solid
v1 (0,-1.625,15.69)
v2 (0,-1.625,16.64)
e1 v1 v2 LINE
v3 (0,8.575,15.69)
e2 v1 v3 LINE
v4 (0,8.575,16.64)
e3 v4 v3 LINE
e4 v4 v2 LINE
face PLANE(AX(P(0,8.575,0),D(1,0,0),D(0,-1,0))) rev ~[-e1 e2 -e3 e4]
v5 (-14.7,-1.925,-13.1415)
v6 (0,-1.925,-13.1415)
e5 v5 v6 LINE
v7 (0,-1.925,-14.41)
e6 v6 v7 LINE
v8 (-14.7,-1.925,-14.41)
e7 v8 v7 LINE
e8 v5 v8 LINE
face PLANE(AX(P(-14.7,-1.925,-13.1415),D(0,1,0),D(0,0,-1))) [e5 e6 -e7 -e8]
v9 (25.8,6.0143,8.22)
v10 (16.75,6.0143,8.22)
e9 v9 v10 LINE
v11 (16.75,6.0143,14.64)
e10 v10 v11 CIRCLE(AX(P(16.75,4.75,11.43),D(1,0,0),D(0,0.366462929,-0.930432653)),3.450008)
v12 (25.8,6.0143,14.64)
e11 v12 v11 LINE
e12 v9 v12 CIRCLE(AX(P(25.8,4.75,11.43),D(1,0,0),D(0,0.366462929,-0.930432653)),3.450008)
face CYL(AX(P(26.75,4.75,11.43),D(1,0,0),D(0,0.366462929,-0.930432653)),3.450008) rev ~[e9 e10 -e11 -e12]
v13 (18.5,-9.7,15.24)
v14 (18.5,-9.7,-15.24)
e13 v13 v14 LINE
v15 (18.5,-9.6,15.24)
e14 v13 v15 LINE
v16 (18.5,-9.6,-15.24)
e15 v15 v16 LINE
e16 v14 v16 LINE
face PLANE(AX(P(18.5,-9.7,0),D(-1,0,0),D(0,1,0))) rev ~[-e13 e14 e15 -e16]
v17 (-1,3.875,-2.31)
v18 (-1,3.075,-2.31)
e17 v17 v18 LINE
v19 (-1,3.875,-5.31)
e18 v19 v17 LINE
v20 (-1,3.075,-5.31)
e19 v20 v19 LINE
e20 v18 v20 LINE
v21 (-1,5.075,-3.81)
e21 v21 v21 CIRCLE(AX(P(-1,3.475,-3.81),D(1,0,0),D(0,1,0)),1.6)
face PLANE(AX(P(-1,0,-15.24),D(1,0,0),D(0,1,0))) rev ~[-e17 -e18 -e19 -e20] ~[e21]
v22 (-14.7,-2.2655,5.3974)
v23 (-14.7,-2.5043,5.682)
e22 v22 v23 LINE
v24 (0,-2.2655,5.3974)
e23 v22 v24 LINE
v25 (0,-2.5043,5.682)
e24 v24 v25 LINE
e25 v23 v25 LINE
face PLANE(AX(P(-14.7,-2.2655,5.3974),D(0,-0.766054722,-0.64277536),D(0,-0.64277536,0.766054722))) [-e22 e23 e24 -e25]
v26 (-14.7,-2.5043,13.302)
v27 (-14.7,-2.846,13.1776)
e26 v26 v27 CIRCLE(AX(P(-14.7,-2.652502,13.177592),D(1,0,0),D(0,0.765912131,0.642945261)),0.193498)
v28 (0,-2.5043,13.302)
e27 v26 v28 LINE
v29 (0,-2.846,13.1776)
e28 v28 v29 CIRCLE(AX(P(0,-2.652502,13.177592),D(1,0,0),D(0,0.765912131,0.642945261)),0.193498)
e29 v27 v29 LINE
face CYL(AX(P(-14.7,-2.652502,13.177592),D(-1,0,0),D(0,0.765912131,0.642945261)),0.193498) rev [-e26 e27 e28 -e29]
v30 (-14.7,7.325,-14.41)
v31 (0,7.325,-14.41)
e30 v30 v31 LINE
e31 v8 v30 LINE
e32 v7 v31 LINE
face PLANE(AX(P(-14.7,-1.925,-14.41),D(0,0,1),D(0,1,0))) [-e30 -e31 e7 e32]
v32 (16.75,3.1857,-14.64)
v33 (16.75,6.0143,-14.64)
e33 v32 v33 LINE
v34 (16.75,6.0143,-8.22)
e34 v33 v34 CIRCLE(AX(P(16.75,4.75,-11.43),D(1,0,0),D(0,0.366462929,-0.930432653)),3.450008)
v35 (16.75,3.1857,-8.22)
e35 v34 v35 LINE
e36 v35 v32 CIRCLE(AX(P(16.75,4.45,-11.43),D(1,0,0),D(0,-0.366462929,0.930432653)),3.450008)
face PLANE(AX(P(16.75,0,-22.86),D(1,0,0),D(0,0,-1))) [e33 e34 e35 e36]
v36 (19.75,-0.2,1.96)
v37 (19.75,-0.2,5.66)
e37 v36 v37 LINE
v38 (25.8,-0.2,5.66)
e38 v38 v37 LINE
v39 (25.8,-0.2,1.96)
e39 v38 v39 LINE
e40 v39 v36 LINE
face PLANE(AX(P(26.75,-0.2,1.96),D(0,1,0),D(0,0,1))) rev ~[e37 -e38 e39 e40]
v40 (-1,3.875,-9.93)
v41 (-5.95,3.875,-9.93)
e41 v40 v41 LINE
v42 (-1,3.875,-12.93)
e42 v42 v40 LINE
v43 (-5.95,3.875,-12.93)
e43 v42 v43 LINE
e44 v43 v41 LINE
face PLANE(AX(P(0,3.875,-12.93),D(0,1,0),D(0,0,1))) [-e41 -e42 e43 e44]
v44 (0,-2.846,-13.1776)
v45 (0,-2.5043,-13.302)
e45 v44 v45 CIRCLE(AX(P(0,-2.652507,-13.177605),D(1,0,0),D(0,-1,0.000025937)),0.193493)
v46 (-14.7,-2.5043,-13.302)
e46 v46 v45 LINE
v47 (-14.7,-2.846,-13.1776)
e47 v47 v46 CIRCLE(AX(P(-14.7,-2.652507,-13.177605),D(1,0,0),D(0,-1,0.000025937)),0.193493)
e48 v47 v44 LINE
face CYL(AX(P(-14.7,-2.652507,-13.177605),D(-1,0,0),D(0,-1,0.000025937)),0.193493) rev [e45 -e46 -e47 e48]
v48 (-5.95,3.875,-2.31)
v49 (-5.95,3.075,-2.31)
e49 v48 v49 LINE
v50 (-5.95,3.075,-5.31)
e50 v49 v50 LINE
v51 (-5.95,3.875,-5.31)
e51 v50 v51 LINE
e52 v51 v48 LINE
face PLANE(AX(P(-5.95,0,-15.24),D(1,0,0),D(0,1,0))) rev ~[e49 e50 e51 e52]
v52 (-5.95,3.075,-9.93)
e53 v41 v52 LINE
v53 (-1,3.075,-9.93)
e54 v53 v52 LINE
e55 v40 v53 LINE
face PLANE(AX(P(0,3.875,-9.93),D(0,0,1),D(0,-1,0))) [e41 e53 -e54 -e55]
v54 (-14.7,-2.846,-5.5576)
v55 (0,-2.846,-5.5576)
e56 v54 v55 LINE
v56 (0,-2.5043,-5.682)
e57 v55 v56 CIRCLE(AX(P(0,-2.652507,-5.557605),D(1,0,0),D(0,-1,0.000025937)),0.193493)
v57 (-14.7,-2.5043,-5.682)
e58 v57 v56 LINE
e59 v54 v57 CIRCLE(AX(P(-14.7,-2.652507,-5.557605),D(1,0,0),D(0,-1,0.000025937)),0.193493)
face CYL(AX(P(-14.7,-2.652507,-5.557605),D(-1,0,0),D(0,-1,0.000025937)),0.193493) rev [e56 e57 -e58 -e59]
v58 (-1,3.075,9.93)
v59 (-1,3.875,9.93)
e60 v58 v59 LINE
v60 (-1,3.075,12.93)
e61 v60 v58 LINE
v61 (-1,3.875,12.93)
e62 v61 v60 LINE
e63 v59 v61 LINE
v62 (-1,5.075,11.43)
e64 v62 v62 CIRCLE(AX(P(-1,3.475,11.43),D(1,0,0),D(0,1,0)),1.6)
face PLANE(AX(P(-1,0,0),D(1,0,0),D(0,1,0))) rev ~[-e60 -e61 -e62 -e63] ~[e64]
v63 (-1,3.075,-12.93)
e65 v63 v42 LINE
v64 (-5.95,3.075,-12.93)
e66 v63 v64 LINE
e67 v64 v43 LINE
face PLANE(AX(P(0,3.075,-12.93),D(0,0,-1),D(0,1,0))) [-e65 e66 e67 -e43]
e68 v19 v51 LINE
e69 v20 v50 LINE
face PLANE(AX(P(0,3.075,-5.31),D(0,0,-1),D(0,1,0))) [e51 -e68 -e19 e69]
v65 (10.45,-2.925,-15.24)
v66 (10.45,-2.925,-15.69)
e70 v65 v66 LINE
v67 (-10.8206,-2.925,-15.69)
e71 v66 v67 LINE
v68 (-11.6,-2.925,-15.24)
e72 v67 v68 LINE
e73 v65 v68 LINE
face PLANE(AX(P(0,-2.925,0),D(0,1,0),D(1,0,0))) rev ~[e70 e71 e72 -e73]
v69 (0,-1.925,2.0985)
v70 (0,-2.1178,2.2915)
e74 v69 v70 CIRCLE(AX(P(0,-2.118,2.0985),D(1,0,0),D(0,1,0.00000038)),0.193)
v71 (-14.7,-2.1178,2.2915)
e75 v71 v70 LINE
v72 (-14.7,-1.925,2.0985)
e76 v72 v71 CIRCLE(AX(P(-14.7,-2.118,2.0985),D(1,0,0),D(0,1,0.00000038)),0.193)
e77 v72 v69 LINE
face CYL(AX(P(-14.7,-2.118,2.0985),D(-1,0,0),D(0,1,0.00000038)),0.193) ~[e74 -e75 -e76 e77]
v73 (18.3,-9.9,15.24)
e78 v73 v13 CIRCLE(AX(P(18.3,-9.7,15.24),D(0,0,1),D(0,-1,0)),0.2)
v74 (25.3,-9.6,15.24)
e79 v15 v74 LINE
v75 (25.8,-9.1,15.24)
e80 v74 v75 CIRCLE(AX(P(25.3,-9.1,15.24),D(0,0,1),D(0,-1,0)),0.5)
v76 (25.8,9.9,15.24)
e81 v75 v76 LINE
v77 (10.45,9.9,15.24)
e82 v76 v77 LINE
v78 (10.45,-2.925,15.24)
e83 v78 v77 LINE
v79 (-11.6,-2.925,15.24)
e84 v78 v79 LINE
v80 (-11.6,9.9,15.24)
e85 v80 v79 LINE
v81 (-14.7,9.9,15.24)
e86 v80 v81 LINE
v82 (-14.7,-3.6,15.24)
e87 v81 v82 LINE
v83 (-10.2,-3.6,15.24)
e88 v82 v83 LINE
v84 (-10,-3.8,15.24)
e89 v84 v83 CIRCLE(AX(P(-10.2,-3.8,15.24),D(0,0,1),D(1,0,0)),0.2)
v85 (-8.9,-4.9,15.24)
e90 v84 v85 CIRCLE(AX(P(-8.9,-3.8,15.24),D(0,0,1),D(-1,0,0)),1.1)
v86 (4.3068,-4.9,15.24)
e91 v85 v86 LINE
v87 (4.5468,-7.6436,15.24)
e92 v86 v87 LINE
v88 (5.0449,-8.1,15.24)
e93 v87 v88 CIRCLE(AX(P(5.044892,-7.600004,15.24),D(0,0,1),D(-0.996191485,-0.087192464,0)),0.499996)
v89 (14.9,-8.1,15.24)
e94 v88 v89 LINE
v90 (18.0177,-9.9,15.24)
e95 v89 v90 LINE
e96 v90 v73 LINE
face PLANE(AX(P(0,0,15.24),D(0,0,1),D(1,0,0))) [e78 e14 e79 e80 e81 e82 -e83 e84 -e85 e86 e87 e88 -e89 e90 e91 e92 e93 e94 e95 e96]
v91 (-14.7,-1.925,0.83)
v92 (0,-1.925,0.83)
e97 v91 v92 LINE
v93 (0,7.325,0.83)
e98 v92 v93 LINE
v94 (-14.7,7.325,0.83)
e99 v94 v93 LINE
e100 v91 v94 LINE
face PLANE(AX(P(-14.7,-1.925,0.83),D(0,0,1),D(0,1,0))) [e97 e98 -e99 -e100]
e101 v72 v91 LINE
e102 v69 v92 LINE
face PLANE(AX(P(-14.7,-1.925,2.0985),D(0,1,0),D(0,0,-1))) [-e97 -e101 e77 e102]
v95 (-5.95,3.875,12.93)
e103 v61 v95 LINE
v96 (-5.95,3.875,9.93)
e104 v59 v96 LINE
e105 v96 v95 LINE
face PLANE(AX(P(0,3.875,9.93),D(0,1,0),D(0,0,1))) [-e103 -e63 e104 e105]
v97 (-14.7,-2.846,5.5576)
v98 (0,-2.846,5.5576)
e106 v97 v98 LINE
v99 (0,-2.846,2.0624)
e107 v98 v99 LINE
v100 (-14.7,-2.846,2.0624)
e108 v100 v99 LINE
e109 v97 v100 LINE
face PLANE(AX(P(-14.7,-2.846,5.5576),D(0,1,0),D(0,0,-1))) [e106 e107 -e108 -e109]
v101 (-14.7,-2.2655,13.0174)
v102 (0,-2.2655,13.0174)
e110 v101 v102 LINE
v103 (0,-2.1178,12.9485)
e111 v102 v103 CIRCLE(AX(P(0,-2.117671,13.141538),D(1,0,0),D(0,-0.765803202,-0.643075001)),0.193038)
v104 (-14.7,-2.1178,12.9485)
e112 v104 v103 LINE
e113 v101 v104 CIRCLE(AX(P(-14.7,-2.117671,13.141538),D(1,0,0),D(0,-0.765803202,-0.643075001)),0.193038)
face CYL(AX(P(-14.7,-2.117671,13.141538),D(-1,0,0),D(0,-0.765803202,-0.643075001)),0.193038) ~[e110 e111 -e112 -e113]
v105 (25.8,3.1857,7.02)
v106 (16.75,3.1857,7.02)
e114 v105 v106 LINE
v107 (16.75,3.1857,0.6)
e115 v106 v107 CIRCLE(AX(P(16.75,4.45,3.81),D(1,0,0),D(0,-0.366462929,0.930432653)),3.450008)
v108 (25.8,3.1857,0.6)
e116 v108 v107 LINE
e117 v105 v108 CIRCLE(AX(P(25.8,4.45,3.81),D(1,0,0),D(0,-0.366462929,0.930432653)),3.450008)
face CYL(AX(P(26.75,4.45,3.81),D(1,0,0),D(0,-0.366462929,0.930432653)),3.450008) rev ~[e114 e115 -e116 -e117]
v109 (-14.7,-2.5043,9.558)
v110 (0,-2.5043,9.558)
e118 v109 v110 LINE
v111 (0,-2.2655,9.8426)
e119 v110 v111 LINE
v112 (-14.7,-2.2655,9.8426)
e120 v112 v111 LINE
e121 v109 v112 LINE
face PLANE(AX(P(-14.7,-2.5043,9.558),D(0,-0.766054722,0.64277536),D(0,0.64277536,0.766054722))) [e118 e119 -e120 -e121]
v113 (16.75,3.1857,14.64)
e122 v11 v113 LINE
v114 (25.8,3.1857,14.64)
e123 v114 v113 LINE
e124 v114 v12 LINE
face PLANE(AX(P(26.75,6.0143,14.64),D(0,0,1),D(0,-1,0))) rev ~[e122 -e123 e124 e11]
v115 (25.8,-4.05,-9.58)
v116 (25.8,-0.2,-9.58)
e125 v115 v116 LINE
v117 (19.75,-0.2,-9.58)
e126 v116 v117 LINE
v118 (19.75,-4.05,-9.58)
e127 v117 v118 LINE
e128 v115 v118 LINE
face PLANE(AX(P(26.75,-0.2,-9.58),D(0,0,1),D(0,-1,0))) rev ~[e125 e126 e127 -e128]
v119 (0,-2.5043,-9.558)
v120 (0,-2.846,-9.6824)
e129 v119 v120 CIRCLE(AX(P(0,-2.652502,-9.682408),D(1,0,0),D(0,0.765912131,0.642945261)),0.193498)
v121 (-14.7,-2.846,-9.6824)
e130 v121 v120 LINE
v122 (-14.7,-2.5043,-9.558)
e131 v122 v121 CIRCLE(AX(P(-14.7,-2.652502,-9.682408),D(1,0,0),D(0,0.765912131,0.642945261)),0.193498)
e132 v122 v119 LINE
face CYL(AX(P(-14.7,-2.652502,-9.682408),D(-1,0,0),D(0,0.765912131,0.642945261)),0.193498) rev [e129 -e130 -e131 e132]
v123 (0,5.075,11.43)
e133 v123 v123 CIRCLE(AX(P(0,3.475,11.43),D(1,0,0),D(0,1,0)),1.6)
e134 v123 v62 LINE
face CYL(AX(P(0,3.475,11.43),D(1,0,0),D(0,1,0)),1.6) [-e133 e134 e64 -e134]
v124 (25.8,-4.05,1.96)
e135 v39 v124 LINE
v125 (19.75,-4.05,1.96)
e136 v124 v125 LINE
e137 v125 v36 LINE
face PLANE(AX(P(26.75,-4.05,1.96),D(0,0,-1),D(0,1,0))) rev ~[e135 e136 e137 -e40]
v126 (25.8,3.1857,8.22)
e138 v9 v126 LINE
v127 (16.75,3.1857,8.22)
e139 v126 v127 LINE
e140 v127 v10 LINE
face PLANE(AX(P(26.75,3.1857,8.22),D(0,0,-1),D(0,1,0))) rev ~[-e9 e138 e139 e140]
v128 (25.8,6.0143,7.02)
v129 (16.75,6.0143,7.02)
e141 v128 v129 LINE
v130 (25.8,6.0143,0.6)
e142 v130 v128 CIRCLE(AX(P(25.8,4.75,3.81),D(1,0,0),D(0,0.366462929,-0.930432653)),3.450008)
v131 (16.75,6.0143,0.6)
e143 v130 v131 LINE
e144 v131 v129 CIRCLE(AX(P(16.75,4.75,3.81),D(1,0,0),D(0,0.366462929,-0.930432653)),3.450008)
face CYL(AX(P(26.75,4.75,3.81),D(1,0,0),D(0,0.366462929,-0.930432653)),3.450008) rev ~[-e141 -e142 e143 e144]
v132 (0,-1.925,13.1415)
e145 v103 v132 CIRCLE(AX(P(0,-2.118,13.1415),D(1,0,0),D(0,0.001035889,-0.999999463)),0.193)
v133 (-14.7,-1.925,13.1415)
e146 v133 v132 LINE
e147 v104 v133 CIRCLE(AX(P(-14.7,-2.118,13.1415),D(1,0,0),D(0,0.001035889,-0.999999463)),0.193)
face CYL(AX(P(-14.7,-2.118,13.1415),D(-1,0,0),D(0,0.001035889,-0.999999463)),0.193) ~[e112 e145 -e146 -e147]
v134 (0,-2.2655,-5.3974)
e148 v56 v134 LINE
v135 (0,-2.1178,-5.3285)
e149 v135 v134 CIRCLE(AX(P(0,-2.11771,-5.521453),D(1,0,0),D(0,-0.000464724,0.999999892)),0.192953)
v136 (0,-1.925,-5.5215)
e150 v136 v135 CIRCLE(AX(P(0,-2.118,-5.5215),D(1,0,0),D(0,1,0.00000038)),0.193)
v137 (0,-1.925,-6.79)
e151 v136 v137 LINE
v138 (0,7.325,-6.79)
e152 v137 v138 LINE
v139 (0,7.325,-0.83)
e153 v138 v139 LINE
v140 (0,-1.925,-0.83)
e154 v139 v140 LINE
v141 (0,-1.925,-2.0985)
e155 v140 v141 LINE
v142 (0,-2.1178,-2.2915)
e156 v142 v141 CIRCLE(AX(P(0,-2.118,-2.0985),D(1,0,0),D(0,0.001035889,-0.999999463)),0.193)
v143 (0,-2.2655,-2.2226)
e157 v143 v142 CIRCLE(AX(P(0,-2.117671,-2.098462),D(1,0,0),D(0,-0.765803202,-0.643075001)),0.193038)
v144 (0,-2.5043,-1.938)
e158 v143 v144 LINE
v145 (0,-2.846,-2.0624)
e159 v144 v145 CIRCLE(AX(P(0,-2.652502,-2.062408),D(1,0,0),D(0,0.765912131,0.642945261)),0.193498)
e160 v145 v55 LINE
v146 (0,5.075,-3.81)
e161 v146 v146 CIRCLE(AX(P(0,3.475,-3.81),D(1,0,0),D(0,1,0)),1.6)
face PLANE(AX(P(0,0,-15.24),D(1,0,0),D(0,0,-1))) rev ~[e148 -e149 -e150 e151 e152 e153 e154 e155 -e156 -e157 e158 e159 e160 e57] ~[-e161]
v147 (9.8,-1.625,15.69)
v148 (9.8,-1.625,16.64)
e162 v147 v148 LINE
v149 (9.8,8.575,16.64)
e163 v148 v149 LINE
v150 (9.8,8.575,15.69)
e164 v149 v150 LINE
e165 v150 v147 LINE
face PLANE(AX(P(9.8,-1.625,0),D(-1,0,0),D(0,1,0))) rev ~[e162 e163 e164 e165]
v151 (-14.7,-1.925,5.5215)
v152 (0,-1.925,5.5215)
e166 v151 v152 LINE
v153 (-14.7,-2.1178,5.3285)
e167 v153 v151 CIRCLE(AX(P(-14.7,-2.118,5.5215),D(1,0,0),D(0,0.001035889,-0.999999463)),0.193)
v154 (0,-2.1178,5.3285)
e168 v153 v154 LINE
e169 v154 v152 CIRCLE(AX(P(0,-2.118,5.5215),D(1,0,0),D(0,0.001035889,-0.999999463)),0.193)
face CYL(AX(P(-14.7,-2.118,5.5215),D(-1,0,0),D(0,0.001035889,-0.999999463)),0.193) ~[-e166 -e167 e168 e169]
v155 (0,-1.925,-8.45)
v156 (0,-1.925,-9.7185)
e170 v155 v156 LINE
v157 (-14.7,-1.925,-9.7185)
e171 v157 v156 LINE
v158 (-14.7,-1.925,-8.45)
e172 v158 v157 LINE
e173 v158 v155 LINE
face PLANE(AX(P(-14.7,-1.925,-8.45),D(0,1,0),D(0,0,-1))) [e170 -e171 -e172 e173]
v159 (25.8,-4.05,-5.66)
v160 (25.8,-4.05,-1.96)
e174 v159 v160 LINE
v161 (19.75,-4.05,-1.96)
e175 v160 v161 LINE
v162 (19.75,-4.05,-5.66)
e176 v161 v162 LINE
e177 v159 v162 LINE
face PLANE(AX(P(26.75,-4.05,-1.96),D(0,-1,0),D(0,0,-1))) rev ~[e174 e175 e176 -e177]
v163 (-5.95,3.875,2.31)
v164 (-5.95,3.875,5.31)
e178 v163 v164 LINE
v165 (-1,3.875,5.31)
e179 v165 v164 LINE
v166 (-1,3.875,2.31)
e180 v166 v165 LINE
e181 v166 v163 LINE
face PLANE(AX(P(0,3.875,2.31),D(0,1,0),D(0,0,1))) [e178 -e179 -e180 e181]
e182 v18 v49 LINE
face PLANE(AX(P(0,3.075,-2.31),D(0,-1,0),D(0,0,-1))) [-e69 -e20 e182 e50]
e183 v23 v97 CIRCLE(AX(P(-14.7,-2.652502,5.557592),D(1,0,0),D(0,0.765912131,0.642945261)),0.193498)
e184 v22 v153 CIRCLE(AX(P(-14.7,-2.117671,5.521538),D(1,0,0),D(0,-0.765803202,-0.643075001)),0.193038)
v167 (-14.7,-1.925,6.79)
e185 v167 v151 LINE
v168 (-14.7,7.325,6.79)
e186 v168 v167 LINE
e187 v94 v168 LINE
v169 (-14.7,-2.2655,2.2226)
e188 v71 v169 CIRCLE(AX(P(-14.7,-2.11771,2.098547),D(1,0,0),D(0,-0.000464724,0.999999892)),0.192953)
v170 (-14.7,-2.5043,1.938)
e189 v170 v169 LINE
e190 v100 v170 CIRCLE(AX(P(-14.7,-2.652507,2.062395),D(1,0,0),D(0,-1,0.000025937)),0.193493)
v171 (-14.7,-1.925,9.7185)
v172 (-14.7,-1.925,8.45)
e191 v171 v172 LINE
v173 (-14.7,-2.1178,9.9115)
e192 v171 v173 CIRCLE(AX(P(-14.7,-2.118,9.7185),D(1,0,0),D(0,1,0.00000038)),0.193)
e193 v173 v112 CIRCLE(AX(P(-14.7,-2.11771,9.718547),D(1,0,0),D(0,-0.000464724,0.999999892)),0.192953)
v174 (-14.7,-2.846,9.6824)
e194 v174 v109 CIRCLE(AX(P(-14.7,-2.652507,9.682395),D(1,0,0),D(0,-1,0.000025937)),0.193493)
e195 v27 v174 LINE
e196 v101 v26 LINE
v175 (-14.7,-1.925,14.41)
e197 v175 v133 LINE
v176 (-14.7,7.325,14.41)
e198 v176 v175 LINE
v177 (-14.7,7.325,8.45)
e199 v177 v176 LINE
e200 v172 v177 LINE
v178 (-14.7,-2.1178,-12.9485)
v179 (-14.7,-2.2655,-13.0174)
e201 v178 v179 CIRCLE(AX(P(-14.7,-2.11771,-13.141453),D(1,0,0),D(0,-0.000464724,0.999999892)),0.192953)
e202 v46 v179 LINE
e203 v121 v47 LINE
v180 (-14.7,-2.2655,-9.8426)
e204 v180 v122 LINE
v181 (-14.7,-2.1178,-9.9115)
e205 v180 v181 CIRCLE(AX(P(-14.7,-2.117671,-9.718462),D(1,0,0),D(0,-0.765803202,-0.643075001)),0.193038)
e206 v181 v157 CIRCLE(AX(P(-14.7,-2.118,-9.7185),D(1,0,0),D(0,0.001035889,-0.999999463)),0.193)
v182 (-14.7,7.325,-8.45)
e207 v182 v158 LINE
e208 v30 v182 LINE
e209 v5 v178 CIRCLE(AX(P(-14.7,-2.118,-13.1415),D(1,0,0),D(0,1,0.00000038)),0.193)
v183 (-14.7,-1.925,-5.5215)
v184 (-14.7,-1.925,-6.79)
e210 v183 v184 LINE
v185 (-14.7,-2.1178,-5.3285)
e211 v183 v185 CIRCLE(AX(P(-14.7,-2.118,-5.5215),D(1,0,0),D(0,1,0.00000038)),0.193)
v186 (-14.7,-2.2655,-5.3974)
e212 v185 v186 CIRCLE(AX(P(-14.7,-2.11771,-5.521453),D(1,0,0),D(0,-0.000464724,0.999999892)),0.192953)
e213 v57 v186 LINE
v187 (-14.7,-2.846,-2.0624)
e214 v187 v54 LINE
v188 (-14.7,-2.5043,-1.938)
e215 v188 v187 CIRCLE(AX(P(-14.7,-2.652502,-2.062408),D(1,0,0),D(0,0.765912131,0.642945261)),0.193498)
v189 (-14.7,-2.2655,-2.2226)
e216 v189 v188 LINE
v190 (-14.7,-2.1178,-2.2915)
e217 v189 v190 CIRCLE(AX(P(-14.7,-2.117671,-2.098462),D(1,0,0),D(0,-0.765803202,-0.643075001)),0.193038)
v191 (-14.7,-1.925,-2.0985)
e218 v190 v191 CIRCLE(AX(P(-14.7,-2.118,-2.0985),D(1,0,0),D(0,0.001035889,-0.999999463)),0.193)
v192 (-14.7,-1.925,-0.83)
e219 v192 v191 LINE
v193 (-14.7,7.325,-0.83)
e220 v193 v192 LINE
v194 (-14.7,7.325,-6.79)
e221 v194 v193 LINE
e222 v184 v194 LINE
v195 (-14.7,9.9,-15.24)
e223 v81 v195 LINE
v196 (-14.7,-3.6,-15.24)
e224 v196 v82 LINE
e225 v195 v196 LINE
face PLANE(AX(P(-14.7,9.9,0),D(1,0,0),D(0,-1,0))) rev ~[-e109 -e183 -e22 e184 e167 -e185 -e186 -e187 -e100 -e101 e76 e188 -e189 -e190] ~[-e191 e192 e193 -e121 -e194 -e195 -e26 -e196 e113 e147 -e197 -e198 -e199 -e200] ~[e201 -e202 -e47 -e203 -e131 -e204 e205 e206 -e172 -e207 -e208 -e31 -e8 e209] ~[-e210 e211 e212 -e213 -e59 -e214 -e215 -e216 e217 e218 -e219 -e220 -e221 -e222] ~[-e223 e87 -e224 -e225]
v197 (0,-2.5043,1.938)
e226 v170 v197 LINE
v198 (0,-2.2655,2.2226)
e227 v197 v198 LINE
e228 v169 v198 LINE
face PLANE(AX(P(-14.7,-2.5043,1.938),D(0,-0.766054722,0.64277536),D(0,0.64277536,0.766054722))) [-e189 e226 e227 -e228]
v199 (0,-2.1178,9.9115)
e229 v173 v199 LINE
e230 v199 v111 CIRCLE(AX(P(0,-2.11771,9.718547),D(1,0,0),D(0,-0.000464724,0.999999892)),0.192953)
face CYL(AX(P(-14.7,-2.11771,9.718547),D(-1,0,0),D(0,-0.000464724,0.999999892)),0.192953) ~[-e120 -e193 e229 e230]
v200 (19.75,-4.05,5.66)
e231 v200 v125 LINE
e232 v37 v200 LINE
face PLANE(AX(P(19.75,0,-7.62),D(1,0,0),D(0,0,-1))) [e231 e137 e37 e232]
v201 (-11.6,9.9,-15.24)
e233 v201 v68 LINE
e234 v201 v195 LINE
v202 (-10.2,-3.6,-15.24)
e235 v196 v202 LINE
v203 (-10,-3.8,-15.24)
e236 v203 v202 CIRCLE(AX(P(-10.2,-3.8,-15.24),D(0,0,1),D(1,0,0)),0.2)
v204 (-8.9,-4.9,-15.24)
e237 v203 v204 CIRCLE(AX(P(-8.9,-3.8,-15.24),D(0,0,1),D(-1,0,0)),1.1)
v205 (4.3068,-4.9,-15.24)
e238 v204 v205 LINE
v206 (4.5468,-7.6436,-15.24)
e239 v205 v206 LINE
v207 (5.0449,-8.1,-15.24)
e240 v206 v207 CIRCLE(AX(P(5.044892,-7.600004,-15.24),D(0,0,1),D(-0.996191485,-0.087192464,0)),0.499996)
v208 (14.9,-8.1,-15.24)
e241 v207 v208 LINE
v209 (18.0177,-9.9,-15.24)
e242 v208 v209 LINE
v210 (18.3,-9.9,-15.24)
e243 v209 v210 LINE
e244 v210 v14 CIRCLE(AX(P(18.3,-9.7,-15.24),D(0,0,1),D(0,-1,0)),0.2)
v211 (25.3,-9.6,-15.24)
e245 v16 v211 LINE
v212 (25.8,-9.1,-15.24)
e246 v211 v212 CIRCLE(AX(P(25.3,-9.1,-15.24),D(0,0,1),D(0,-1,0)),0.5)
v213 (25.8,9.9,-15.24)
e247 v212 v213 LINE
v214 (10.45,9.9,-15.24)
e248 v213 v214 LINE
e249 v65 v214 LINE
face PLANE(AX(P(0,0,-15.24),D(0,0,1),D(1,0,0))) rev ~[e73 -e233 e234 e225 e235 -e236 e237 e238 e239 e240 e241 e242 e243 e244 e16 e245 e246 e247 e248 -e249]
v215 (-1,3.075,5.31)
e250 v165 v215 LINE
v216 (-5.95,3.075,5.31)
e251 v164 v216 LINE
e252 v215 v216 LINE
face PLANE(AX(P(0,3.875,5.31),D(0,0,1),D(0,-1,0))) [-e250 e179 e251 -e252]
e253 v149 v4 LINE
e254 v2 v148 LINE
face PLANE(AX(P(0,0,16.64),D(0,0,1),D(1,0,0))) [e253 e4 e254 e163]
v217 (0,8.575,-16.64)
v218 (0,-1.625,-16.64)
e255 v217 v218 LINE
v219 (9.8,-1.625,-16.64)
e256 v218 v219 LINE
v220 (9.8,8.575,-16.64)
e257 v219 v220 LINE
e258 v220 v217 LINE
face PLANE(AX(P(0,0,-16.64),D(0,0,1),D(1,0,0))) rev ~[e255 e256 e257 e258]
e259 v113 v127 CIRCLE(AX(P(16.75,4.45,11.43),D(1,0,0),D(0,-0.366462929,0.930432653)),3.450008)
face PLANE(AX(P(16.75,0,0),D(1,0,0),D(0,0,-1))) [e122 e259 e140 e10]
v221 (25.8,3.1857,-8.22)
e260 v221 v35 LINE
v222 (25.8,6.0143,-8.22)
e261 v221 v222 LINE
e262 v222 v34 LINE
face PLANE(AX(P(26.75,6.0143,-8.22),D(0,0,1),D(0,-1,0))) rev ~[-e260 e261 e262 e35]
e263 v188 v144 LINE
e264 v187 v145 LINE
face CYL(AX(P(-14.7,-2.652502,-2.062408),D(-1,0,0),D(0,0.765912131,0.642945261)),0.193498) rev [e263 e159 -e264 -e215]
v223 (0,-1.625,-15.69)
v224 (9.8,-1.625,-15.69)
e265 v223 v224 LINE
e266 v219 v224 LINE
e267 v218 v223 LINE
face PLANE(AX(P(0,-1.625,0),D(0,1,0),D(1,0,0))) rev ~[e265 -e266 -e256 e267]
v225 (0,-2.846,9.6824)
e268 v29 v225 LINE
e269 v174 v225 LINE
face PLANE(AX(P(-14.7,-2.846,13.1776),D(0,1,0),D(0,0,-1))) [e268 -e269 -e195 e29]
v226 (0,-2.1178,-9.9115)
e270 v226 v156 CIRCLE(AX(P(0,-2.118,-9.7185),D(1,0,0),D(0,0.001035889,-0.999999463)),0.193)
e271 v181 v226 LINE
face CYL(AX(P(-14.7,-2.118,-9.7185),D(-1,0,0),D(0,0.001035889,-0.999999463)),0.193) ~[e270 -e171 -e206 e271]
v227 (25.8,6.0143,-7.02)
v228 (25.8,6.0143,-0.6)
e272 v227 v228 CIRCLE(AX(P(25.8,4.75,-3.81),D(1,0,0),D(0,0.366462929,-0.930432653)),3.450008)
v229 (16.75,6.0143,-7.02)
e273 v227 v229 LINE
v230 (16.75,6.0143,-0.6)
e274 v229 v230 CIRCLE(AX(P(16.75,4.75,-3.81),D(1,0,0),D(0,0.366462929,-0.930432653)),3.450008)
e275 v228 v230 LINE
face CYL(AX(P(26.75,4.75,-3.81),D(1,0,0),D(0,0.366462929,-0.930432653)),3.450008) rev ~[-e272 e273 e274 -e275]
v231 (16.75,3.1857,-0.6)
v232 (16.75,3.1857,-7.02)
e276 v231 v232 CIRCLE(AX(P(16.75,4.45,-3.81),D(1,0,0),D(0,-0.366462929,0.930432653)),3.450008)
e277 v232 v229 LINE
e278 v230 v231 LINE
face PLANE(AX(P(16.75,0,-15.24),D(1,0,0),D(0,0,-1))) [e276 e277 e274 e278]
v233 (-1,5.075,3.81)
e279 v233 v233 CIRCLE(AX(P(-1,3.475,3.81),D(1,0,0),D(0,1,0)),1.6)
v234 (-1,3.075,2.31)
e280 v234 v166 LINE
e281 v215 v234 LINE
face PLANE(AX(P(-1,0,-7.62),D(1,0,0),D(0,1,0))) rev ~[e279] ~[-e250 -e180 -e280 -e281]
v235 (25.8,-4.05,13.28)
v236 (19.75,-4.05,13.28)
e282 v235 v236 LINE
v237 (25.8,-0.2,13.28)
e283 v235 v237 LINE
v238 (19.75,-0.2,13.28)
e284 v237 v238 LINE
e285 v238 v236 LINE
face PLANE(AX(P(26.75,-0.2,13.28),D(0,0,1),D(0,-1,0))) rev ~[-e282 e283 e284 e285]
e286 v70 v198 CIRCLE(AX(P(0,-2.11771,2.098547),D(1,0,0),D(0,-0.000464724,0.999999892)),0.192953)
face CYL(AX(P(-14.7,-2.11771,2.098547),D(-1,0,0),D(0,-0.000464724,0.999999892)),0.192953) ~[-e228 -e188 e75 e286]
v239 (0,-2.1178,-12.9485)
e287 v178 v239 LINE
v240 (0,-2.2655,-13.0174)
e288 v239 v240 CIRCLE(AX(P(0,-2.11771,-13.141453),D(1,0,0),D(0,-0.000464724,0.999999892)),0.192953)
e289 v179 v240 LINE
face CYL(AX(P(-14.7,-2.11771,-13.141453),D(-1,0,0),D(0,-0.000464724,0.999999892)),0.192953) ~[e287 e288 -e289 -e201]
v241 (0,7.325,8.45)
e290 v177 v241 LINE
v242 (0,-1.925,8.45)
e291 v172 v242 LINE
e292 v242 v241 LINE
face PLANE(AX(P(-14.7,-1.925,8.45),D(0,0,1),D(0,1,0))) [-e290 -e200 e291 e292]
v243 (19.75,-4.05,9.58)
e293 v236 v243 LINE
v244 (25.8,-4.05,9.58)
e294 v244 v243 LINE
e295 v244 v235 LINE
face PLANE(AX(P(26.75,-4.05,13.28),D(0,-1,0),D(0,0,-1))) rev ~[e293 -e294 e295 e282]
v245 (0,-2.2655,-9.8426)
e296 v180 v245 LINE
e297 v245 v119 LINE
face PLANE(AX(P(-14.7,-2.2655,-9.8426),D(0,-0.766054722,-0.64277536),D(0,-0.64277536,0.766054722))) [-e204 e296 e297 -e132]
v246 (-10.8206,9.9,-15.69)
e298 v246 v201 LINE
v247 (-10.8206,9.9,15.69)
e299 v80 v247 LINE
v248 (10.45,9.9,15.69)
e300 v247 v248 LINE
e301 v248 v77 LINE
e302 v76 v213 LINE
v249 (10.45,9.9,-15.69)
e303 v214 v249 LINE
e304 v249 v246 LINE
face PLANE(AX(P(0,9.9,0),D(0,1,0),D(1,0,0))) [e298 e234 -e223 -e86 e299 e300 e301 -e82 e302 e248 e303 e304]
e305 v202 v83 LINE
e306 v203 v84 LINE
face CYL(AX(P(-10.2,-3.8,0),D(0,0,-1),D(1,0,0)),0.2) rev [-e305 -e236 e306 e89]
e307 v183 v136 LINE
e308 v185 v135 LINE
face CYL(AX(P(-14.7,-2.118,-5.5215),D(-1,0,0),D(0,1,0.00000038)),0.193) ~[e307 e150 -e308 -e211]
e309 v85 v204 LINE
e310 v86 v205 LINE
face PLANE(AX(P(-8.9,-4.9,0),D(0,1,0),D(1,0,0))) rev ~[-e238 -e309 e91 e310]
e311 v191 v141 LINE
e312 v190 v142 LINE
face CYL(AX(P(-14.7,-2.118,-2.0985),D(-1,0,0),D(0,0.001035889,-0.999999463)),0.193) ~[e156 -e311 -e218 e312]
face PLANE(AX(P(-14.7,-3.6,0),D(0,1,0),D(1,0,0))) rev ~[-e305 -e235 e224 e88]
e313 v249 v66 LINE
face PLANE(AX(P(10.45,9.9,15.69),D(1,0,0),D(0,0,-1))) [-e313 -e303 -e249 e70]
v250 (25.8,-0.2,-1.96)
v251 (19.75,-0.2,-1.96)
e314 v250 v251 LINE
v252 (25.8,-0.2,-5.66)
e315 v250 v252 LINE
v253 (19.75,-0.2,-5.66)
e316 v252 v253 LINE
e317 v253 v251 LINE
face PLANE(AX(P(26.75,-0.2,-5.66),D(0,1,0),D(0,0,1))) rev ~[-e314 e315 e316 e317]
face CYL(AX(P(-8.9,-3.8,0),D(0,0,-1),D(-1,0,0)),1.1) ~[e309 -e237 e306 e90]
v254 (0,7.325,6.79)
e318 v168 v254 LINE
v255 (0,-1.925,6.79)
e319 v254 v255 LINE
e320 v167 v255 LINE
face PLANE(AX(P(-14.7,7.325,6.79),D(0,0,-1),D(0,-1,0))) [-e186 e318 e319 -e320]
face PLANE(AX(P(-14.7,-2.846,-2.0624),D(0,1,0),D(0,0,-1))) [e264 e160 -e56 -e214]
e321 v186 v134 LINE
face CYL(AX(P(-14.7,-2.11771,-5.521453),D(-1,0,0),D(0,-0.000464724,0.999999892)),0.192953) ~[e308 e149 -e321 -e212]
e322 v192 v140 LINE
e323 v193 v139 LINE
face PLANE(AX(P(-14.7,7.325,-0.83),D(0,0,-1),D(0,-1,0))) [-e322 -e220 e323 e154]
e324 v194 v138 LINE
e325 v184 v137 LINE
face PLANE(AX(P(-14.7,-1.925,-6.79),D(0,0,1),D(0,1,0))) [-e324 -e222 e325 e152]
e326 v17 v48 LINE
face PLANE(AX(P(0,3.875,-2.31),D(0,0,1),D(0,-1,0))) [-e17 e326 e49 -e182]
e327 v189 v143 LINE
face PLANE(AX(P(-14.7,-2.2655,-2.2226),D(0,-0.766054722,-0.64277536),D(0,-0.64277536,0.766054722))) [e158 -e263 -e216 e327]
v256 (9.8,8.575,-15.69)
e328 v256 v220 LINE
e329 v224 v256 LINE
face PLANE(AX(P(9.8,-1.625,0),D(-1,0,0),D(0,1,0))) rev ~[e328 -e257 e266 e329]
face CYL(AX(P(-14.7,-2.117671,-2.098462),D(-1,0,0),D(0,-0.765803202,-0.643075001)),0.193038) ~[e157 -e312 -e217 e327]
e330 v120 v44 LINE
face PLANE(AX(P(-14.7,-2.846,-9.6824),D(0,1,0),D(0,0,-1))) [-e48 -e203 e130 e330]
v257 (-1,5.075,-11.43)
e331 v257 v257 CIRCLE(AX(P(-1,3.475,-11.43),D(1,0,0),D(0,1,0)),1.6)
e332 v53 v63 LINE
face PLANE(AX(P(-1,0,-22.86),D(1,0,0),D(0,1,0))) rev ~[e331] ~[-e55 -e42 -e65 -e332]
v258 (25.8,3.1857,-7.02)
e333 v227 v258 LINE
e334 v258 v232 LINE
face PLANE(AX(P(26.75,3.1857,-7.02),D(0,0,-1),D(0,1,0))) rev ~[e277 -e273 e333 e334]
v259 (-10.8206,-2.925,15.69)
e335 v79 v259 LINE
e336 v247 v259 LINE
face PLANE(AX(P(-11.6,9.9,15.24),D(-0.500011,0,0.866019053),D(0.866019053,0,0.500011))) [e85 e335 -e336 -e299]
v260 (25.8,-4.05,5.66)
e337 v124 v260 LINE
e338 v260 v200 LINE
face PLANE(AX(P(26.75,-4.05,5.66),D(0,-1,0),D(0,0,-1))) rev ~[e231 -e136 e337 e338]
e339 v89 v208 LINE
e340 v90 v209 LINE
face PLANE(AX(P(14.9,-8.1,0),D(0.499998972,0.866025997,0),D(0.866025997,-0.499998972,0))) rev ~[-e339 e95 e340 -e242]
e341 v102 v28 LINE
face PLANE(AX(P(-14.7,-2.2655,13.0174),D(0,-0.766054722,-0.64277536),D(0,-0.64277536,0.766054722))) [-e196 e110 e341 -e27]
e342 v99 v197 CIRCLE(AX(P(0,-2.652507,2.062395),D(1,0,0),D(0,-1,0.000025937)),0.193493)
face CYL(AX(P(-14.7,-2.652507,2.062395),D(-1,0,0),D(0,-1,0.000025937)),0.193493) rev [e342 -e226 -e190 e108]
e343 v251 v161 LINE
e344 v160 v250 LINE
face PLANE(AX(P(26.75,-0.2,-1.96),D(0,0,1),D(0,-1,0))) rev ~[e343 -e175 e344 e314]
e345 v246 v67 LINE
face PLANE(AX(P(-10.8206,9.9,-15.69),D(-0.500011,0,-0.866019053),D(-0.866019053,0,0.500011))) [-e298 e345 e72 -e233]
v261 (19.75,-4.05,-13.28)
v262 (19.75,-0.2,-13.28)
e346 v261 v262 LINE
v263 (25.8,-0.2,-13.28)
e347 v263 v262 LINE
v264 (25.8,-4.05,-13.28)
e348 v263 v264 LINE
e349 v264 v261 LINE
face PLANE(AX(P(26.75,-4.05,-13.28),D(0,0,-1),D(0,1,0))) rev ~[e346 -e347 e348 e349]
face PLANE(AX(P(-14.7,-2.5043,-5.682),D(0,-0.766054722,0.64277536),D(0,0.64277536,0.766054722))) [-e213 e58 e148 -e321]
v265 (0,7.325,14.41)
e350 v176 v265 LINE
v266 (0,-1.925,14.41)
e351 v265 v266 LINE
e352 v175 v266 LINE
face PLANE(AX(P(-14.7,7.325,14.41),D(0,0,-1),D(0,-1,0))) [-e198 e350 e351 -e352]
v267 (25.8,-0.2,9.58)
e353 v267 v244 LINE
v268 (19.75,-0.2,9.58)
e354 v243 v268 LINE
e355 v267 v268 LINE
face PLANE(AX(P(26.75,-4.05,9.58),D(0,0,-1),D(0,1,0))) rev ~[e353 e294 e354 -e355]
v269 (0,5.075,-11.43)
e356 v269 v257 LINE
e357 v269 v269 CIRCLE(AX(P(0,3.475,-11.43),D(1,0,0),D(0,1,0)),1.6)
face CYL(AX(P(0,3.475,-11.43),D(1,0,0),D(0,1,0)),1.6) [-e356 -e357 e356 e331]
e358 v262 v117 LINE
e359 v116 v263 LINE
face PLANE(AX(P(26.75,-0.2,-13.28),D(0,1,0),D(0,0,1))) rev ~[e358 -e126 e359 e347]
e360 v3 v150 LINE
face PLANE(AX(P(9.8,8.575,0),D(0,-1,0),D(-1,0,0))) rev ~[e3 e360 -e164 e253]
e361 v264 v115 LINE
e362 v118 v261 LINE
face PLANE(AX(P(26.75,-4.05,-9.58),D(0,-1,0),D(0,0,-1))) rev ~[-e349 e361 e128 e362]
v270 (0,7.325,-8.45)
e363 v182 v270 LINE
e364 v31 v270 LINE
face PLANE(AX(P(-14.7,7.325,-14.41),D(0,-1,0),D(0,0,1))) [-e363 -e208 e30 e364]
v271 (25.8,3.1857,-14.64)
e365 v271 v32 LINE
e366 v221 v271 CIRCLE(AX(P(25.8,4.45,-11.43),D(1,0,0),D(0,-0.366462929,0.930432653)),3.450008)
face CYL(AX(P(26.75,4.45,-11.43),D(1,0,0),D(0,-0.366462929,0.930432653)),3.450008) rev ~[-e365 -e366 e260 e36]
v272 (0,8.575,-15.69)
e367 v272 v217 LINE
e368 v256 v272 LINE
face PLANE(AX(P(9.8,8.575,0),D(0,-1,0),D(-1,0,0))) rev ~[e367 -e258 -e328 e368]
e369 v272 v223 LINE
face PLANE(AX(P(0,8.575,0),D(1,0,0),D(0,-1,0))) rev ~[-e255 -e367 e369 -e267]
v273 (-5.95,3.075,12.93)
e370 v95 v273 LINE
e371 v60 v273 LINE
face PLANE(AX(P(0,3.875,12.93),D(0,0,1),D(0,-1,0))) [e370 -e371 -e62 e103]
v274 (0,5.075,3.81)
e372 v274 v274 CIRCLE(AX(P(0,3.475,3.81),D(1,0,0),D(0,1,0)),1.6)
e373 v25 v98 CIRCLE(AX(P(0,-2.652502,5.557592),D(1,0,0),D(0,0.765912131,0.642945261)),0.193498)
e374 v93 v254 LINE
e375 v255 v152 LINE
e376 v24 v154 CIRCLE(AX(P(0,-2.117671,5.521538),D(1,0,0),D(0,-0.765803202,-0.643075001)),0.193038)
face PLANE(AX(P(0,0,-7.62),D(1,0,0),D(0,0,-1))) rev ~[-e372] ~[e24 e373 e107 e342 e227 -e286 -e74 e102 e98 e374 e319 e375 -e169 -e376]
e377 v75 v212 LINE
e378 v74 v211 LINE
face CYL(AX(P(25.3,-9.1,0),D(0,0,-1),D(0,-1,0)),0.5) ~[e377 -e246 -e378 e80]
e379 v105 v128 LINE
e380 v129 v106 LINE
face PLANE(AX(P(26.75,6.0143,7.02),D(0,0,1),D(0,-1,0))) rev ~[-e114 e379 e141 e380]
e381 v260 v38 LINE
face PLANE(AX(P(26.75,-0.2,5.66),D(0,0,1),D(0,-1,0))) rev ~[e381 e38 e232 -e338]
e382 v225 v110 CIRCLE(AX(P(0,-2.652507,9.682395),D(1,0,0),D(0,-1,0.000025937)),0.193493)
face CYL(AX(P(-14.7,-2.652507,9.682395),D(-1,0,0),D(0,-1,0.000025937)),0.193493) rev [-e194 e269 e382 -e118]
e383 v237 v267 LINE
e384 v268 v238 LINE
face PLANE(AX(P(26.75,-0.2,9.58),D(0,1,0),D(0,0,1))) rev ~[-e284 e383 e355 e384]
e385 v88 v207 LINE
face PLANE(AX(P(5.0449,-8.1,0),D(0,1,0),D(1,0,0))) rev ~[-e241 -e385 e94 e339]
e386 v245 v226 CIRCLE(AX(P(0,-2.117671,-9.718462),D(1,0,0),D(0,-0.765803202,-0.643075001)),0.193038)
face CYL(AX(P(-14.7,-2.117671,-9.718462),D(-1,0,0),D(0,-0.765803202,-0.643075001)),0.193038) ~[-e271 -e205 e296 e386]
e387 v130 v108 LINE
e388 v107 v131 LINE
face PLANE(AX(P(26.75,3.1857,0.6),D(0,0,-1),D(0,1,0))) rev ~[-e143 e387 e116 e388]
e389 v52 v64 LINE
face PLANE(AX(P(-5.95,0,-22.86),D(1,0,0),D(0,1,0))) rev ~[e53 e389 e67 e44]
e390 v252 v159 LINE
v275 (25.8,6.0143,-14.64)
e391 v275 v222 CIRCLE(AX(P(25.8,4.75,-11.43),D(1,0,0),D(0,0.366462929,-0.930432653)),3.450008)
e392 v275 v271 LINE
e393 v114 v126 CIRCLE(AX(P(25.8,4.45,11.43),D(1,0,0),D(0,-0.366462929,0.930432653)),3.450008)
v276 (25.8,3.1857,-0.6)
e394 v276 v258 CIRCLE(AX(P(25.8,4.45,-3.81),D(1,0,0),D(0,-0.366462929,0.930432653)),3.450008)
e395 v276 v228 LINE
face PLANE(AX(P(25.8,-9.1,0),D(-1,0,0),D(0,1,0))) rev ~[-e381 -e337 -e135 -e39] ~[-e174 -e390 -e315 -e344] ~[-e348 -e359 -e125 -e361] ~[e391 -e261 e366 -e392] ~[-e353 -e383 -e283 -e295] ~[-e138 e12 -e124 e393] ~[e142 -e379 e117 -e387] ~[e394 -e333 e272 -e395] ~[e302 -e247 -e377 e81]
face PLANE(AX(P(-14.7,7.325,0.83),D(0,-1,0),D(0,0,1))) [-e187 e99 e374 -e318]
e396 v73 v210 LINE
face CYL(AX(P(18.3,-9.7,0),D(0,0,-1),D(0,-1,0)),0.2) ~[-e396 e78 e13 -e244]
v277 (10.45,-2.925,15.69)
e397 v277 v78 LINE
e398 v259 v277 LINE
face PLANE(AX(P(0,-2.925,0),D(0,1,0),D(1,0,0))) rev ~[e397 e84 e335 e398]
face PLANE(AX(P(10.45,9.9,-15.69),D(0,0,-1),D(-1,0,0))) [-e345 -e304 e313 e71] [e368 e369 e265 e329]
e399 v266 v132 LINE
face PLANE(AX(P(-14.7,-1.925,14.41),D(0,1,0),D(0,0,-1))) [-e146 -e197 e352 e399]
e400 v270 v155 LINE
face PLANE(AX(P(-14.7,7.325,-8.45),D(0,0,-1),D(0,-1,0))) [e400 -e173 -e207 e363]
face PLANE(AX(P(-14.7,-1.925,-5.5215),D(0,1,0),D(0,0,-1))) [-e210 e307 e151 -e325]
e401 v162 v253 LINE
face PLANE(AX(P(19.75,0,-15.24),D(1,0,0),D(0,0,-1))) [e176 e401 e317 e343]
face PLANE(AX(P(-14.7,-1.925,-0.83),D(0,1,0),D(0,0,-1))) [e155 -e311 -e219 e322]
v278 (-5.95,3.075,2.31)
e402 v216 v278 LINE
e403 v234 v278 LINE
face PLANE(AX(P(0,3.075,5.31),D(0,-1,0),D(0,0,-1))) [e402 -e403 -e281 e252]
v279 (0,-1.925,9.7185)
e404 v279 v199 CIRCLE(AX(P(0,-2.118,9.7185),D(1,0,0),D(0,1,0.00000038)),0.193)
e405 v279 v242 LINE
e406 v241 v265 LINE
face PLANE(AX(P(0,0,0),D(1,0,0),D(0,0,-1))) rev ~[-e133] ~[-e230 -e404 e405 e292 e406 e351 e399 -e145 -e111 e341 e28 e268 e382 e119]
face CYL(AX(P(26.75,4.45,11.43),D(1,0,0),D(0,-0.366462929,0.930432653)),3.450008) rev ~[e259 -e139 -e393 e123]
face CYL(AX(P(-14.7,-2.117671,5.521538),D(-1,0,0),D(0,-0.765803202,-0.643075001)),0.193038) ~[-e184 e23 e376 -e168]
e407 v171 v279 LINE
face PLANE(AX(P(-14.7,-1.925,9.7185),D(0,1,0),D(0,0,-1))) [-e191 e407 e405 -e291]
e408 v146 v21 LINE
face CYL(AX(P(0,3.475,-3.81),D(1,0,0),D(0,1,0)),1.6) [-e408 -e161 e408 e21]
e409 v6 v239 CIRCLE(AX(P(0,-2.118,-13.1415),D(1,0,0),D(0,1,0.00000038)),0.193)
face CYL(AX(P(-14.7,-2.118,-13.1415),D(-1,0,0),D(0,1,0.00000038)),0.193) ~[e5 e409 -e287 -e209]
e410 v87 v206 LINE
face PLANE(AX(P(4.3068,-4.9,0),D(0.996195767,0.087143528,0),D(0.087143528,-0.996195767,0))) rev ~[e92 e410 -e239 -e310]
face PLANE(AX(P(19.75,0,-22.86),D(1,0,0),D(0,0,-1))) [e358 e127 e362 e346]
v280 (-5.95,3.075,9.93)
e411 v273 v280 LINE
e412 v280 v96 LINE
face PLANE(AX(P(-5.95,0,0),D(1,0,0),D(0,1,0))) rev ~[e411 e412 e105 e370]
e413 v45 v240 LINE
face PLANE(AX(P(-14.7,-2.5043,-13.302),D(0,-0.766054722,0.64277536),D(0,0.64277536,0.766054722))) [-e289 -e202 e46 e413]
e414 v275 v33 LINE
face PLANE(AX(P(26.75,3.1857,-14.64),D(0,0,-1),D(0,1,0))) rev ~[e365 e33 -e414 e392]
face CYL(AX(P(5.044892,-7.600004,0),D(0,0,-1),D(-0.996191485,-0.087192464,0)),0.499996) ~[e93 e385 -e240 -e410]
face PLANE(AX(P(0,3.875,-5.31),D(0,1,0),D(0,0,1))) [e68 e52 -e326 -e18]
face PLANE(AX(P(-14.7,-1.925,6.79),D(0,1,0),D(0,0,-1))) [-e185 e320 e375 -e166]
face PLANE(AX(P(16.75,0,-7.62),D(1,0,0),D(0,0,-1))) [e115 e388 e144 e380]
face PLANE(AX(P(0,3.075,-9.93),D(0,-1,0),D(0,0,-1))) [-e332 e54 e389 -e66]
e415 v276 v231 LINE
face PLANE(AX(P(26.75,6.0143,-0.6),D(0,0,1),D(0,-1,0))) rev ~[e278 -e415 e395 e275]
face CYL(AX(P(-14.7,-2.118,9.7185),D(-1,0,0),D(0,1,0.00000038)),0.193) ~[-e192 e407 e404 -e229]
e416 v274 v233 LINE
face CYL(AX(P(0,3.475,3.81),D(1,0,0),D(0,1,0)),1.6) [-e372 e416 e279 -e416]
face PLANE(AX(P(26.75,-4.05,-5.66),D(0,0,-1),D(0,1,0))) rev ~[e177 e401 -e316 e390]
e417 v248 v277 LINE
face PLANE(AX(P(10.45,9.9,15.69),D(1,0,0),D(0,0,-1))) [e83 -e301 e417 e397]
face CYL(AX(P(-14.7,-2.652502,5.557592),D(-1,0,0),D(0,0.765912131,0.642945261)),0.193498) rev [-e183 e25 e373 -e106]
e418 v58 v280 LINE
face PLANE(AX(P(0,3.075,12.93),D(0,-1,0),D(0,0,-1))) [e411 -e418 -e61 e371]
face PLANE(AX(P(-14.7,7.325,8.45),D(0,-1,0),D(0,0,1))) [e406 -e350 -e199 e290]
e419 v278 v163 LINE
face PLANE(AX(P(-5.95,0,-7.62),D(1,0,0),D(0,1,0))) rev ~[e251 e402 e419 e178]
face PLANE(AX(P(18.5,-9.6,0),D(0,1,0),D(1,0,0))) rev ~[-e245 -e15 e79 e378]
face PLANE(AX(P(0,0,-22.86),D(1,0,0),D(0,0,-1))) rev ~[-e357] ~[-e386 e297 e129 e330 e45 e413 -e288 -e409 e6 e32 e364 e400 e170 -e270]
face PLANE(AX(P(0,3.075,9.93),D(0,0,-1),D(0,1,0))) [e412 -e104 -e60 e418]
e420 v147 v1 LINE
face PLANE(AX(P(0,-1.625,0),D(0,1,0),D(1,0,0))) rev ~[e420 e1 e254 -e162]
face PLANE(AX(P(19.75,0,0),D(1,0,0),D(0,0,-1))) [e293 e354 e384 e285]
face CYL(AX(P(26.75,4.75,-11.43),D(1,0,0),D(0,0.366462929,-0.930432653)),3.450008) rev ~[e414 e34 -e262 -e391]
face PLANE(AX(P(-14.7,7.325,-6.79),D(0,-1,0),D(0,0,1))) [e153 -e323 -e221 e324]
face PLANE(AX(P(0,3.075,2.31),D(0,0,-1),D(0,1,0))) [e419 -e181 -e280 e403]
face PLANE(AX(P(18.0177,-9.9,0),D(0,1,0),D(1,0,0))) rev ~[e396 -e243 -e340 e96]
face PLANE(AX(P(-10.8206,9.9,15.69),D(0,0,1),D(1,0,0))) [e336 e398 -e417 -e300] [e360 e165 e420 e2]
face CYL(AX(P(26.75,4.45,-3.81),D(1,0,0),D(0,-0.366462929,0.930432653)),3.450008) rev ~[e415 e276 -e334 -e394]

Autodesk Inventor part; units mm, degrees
sketch "Sketch_1" plane through (0, 0, 0) normal (0, 0, 1) x (1, 0, 0)
  line L0 (-14.7, -3.6) -> (-10.2, -3.6)
  arc A0 (-10, -3.8) -> (-10.2, -3.6) centre (-10.2, -3.8) ccw
  arc A1 (-10, -3.8) -> (-8.9, -4.9) centre (-8.9, -3.8) ccw
  line L1 (-8.9, -4.9) -> (4.3068, -4.9)
  line L2 (4.3068, -4.9) -> (4.5468, -7.6436)
  arc A2 (4.5468, -7.6436) -> (5.0449, -8.1) centre (5.0449, -7.6) ccw
  line L3 (5.0449, -8.1) -> (14.9, -8.1)
  line L4 (14.9, -8.1) -> (18.0177, -9.9)
  line L5 (18.0177, -9.9) -> (18.3, -9.9)
  arc A3 (18.3, -9.9) -> (18.5, -9.7) centre (18.3, -9.7) ccw
  line L6 (18.5, -9.7) -> (18.5, -9.6)
  line L7 (18.5, -9.6) -> (25.3, -9.6)
  arc A4 (25.3, -9.6) -> (25.8, -9.1) centre (25.3, -9.1) ccw
  line L8 (25.8, -9.1) -> (25.8, 9.9)
  line L9 (25.8, 9.9) -> (-14.7, 9.9)
  line L10 (-14.7, 9.9) -> (-14.7, -3.6)
extrude "Extrusion1" add sketch "Sketch_1" along normal mid plane 30.48
sketch "Sketch_2" plane through (0, 9.9, 0) normal (0, 1, 0) x (1, 0, 0)
  line L0 (-11.6, 15.24) -> (-11.6, -15.24)
  line L1 (-11.6, -15.24) -> (-10.8206, -15.69)
  line L2 (-10.8206, -15.69) -> (10.45, -15.69)
  line L3 (10.45, -15.69) -> (10.45, 15.69)
  line L4 (10.45, 15.69) -> (-10.8206, 15.69)
  line L5 (-10.8206, 15.69) -> (-11.6, 15.24)
extrude "Extrusion2" add sketch "Sketch_2" against normal blind 12.825
sketch "Sketch_3" plane through (0, 0, 0) normal (0, 0, 1) x (1, 0, 0)
  line L0 (0, -1.625) -> (9.8, -1.625)
  line L1 (9.8, -1.625) -> (9.8, 8.575)
  line L2 (9.8, 8.575) -> (0, 8.575)
  line L3 (0, 8.575) -> (0, -1.625)
extrude "Extrusion3" add sketch "Sketch_3" along normal mid plane 33.28
sketch "Sketch_4" plane through (26.75, 0, 0) normal (1, 0, 0) x (0, 0, -1)
  line L0 (-14.64, 6.0143) -> (-14.64, 3.1857)
  arc A0 (-14.64, 3.1857) -> (-8.22, 3.1857) centre (-11.43, 4.45) ccw
  line L1 (-8.22, 3.1857) -> (-8.22, 6.0143)
  arc A1 (-8.22, 6.0143) -> (-14.64, 6.0143) centre (-11.43, 4.75) ccw
extrude "Extrusion4" cut sketch "Sketch_4" against normal blind 10
pattern_linear "Rectangular Pattern1" count 4 spacing 7.62 along (0, 0, -1) of "Extrusion4"
sketch "Sketch_6" plane through (26.75, 0, 0) normal (1, 0, 0) x (0, 0, -1)
  line L0 (-13.28, -4.05) -> (-9.58, -4.05)
  line L1 (-9.58, -4.05) -> (-9.58, -0.2)
  line L2 (-9.58, -0.2) -> (-13.28, -0.2)
  line L3 (-13.28, -0.2) -> (-13.28, -4.05)
extrude "Extrusion5" cut sketch "Sketch_6" against normal blind 7
pattern_linear "Rectangular Pattern2" count 4 spacing 7.62 along (0, 0, -1) of "Extrusion5"
sketch "Sketch_8" plane through (-14.7, 0, 0) normal (1, 0, 0) x (0, 0, -1)
  line L0 (-14.41, -1.925) -> (-13.1415, -1.925)
  arc A0 (-12.9485, -2.1178) -> (-13.1415, -1.925) centre (-13.1415, -2.118) ccw
  arc A1 (-13.0174, -2.2655) -> (-12.9485, -2.1178) centre (-13.1415, -2.1177) ccw
  line L1 (-13.0174, -2.2655) -> (-13.302, -2.5043)
  arc A2 (-13.302, -2.5043) -> (-13.1776, -2.846) centre (-13.1776, -2.6525) ccw
  line L2 (-13.1776, -2.846) -> (-9.6824, -2.846)
  arc A3 (-9.6824, -2.846) -> (-9.558, -2.5043) centre (-9.6824, -2.6525) ccw
  line L3 (-9.558, -2.5043) -> (-9.8426, -2.2655)
  arc A4 (-9.9115, -2.1178) -> (-9.8426, -2.2655) centre (-9.7185, -2.1177) ccw
  arc A5 (-9.7185, -1.925) -> (-9.9115, -2.1178) centre (-9.7185, -2.118) ccw
  line L4 (-9.7185, -1.925) -> (-8.45, -1.925)
  line L5 (-8.45, -1.925) -> (-8.45, 7.325)
  line L6 (-8.45, 7.325) -> (-14.41, 7.325)
  line L7 (-14.41, 7.325) -> (-14.41, -1.925)
extrude "Extrusion6" cut sketch "Sketch_8" along normal blind 14.7
pattern_linear "Rectangular Pattern3" count 4 spacing 7.62 along (0, 0, -1) of "Extrusion6"
sketch "Sketch_10" plane through (0, 0, 0) normal (1, 0, 0) x (0, 1, 0)
  circle A0 centre (3.475, 11.43) radius 1.6
extrude "Extrusion7" add sketch "Sketch_10" against normal blind 1
pattern_linear "Rectangular Pattern4" count 4 spacing 7.62 along (0, 0, -1) of "Extrusion7"
sketch "Sketch_12" plane through (0, 0, 0) normal (1, 0, 0) x (0, 1, 0)
  line L0 (3.075, 12.93) -> (3.075, 9.93)
  line L1 (3.075, 9.93) -> (3.875, 9.93)
  line L2 (3.875, 9.93) -> (3.875, 12.93)
  line L3 (3.875, 12.93) -> (3.075, 12.93)
extrude "Extrusion8" add sketch "Sketch_12" against normal blind 5.95
pattern_linear "Rectangular Pattern5" count 4 spacing 7.62 along (0, 0, -1) of "Extrusion8"
ref_plane "ANBAU_XY" through (0, 0, 0) normal (0, 1, 0) x (1, 0, 0)
ref_plane "ANBAU_YZ" through (0, 0, 0) normal (1, 0, 0) x (0, 0, -1)
ref_plane "ANBAU_ZX" through (0, 0, 0) normal (0, 0, -1) x (0, 1, 0)
properties part number "5065752 4GD-1RR7.62-CLP-CBL"
